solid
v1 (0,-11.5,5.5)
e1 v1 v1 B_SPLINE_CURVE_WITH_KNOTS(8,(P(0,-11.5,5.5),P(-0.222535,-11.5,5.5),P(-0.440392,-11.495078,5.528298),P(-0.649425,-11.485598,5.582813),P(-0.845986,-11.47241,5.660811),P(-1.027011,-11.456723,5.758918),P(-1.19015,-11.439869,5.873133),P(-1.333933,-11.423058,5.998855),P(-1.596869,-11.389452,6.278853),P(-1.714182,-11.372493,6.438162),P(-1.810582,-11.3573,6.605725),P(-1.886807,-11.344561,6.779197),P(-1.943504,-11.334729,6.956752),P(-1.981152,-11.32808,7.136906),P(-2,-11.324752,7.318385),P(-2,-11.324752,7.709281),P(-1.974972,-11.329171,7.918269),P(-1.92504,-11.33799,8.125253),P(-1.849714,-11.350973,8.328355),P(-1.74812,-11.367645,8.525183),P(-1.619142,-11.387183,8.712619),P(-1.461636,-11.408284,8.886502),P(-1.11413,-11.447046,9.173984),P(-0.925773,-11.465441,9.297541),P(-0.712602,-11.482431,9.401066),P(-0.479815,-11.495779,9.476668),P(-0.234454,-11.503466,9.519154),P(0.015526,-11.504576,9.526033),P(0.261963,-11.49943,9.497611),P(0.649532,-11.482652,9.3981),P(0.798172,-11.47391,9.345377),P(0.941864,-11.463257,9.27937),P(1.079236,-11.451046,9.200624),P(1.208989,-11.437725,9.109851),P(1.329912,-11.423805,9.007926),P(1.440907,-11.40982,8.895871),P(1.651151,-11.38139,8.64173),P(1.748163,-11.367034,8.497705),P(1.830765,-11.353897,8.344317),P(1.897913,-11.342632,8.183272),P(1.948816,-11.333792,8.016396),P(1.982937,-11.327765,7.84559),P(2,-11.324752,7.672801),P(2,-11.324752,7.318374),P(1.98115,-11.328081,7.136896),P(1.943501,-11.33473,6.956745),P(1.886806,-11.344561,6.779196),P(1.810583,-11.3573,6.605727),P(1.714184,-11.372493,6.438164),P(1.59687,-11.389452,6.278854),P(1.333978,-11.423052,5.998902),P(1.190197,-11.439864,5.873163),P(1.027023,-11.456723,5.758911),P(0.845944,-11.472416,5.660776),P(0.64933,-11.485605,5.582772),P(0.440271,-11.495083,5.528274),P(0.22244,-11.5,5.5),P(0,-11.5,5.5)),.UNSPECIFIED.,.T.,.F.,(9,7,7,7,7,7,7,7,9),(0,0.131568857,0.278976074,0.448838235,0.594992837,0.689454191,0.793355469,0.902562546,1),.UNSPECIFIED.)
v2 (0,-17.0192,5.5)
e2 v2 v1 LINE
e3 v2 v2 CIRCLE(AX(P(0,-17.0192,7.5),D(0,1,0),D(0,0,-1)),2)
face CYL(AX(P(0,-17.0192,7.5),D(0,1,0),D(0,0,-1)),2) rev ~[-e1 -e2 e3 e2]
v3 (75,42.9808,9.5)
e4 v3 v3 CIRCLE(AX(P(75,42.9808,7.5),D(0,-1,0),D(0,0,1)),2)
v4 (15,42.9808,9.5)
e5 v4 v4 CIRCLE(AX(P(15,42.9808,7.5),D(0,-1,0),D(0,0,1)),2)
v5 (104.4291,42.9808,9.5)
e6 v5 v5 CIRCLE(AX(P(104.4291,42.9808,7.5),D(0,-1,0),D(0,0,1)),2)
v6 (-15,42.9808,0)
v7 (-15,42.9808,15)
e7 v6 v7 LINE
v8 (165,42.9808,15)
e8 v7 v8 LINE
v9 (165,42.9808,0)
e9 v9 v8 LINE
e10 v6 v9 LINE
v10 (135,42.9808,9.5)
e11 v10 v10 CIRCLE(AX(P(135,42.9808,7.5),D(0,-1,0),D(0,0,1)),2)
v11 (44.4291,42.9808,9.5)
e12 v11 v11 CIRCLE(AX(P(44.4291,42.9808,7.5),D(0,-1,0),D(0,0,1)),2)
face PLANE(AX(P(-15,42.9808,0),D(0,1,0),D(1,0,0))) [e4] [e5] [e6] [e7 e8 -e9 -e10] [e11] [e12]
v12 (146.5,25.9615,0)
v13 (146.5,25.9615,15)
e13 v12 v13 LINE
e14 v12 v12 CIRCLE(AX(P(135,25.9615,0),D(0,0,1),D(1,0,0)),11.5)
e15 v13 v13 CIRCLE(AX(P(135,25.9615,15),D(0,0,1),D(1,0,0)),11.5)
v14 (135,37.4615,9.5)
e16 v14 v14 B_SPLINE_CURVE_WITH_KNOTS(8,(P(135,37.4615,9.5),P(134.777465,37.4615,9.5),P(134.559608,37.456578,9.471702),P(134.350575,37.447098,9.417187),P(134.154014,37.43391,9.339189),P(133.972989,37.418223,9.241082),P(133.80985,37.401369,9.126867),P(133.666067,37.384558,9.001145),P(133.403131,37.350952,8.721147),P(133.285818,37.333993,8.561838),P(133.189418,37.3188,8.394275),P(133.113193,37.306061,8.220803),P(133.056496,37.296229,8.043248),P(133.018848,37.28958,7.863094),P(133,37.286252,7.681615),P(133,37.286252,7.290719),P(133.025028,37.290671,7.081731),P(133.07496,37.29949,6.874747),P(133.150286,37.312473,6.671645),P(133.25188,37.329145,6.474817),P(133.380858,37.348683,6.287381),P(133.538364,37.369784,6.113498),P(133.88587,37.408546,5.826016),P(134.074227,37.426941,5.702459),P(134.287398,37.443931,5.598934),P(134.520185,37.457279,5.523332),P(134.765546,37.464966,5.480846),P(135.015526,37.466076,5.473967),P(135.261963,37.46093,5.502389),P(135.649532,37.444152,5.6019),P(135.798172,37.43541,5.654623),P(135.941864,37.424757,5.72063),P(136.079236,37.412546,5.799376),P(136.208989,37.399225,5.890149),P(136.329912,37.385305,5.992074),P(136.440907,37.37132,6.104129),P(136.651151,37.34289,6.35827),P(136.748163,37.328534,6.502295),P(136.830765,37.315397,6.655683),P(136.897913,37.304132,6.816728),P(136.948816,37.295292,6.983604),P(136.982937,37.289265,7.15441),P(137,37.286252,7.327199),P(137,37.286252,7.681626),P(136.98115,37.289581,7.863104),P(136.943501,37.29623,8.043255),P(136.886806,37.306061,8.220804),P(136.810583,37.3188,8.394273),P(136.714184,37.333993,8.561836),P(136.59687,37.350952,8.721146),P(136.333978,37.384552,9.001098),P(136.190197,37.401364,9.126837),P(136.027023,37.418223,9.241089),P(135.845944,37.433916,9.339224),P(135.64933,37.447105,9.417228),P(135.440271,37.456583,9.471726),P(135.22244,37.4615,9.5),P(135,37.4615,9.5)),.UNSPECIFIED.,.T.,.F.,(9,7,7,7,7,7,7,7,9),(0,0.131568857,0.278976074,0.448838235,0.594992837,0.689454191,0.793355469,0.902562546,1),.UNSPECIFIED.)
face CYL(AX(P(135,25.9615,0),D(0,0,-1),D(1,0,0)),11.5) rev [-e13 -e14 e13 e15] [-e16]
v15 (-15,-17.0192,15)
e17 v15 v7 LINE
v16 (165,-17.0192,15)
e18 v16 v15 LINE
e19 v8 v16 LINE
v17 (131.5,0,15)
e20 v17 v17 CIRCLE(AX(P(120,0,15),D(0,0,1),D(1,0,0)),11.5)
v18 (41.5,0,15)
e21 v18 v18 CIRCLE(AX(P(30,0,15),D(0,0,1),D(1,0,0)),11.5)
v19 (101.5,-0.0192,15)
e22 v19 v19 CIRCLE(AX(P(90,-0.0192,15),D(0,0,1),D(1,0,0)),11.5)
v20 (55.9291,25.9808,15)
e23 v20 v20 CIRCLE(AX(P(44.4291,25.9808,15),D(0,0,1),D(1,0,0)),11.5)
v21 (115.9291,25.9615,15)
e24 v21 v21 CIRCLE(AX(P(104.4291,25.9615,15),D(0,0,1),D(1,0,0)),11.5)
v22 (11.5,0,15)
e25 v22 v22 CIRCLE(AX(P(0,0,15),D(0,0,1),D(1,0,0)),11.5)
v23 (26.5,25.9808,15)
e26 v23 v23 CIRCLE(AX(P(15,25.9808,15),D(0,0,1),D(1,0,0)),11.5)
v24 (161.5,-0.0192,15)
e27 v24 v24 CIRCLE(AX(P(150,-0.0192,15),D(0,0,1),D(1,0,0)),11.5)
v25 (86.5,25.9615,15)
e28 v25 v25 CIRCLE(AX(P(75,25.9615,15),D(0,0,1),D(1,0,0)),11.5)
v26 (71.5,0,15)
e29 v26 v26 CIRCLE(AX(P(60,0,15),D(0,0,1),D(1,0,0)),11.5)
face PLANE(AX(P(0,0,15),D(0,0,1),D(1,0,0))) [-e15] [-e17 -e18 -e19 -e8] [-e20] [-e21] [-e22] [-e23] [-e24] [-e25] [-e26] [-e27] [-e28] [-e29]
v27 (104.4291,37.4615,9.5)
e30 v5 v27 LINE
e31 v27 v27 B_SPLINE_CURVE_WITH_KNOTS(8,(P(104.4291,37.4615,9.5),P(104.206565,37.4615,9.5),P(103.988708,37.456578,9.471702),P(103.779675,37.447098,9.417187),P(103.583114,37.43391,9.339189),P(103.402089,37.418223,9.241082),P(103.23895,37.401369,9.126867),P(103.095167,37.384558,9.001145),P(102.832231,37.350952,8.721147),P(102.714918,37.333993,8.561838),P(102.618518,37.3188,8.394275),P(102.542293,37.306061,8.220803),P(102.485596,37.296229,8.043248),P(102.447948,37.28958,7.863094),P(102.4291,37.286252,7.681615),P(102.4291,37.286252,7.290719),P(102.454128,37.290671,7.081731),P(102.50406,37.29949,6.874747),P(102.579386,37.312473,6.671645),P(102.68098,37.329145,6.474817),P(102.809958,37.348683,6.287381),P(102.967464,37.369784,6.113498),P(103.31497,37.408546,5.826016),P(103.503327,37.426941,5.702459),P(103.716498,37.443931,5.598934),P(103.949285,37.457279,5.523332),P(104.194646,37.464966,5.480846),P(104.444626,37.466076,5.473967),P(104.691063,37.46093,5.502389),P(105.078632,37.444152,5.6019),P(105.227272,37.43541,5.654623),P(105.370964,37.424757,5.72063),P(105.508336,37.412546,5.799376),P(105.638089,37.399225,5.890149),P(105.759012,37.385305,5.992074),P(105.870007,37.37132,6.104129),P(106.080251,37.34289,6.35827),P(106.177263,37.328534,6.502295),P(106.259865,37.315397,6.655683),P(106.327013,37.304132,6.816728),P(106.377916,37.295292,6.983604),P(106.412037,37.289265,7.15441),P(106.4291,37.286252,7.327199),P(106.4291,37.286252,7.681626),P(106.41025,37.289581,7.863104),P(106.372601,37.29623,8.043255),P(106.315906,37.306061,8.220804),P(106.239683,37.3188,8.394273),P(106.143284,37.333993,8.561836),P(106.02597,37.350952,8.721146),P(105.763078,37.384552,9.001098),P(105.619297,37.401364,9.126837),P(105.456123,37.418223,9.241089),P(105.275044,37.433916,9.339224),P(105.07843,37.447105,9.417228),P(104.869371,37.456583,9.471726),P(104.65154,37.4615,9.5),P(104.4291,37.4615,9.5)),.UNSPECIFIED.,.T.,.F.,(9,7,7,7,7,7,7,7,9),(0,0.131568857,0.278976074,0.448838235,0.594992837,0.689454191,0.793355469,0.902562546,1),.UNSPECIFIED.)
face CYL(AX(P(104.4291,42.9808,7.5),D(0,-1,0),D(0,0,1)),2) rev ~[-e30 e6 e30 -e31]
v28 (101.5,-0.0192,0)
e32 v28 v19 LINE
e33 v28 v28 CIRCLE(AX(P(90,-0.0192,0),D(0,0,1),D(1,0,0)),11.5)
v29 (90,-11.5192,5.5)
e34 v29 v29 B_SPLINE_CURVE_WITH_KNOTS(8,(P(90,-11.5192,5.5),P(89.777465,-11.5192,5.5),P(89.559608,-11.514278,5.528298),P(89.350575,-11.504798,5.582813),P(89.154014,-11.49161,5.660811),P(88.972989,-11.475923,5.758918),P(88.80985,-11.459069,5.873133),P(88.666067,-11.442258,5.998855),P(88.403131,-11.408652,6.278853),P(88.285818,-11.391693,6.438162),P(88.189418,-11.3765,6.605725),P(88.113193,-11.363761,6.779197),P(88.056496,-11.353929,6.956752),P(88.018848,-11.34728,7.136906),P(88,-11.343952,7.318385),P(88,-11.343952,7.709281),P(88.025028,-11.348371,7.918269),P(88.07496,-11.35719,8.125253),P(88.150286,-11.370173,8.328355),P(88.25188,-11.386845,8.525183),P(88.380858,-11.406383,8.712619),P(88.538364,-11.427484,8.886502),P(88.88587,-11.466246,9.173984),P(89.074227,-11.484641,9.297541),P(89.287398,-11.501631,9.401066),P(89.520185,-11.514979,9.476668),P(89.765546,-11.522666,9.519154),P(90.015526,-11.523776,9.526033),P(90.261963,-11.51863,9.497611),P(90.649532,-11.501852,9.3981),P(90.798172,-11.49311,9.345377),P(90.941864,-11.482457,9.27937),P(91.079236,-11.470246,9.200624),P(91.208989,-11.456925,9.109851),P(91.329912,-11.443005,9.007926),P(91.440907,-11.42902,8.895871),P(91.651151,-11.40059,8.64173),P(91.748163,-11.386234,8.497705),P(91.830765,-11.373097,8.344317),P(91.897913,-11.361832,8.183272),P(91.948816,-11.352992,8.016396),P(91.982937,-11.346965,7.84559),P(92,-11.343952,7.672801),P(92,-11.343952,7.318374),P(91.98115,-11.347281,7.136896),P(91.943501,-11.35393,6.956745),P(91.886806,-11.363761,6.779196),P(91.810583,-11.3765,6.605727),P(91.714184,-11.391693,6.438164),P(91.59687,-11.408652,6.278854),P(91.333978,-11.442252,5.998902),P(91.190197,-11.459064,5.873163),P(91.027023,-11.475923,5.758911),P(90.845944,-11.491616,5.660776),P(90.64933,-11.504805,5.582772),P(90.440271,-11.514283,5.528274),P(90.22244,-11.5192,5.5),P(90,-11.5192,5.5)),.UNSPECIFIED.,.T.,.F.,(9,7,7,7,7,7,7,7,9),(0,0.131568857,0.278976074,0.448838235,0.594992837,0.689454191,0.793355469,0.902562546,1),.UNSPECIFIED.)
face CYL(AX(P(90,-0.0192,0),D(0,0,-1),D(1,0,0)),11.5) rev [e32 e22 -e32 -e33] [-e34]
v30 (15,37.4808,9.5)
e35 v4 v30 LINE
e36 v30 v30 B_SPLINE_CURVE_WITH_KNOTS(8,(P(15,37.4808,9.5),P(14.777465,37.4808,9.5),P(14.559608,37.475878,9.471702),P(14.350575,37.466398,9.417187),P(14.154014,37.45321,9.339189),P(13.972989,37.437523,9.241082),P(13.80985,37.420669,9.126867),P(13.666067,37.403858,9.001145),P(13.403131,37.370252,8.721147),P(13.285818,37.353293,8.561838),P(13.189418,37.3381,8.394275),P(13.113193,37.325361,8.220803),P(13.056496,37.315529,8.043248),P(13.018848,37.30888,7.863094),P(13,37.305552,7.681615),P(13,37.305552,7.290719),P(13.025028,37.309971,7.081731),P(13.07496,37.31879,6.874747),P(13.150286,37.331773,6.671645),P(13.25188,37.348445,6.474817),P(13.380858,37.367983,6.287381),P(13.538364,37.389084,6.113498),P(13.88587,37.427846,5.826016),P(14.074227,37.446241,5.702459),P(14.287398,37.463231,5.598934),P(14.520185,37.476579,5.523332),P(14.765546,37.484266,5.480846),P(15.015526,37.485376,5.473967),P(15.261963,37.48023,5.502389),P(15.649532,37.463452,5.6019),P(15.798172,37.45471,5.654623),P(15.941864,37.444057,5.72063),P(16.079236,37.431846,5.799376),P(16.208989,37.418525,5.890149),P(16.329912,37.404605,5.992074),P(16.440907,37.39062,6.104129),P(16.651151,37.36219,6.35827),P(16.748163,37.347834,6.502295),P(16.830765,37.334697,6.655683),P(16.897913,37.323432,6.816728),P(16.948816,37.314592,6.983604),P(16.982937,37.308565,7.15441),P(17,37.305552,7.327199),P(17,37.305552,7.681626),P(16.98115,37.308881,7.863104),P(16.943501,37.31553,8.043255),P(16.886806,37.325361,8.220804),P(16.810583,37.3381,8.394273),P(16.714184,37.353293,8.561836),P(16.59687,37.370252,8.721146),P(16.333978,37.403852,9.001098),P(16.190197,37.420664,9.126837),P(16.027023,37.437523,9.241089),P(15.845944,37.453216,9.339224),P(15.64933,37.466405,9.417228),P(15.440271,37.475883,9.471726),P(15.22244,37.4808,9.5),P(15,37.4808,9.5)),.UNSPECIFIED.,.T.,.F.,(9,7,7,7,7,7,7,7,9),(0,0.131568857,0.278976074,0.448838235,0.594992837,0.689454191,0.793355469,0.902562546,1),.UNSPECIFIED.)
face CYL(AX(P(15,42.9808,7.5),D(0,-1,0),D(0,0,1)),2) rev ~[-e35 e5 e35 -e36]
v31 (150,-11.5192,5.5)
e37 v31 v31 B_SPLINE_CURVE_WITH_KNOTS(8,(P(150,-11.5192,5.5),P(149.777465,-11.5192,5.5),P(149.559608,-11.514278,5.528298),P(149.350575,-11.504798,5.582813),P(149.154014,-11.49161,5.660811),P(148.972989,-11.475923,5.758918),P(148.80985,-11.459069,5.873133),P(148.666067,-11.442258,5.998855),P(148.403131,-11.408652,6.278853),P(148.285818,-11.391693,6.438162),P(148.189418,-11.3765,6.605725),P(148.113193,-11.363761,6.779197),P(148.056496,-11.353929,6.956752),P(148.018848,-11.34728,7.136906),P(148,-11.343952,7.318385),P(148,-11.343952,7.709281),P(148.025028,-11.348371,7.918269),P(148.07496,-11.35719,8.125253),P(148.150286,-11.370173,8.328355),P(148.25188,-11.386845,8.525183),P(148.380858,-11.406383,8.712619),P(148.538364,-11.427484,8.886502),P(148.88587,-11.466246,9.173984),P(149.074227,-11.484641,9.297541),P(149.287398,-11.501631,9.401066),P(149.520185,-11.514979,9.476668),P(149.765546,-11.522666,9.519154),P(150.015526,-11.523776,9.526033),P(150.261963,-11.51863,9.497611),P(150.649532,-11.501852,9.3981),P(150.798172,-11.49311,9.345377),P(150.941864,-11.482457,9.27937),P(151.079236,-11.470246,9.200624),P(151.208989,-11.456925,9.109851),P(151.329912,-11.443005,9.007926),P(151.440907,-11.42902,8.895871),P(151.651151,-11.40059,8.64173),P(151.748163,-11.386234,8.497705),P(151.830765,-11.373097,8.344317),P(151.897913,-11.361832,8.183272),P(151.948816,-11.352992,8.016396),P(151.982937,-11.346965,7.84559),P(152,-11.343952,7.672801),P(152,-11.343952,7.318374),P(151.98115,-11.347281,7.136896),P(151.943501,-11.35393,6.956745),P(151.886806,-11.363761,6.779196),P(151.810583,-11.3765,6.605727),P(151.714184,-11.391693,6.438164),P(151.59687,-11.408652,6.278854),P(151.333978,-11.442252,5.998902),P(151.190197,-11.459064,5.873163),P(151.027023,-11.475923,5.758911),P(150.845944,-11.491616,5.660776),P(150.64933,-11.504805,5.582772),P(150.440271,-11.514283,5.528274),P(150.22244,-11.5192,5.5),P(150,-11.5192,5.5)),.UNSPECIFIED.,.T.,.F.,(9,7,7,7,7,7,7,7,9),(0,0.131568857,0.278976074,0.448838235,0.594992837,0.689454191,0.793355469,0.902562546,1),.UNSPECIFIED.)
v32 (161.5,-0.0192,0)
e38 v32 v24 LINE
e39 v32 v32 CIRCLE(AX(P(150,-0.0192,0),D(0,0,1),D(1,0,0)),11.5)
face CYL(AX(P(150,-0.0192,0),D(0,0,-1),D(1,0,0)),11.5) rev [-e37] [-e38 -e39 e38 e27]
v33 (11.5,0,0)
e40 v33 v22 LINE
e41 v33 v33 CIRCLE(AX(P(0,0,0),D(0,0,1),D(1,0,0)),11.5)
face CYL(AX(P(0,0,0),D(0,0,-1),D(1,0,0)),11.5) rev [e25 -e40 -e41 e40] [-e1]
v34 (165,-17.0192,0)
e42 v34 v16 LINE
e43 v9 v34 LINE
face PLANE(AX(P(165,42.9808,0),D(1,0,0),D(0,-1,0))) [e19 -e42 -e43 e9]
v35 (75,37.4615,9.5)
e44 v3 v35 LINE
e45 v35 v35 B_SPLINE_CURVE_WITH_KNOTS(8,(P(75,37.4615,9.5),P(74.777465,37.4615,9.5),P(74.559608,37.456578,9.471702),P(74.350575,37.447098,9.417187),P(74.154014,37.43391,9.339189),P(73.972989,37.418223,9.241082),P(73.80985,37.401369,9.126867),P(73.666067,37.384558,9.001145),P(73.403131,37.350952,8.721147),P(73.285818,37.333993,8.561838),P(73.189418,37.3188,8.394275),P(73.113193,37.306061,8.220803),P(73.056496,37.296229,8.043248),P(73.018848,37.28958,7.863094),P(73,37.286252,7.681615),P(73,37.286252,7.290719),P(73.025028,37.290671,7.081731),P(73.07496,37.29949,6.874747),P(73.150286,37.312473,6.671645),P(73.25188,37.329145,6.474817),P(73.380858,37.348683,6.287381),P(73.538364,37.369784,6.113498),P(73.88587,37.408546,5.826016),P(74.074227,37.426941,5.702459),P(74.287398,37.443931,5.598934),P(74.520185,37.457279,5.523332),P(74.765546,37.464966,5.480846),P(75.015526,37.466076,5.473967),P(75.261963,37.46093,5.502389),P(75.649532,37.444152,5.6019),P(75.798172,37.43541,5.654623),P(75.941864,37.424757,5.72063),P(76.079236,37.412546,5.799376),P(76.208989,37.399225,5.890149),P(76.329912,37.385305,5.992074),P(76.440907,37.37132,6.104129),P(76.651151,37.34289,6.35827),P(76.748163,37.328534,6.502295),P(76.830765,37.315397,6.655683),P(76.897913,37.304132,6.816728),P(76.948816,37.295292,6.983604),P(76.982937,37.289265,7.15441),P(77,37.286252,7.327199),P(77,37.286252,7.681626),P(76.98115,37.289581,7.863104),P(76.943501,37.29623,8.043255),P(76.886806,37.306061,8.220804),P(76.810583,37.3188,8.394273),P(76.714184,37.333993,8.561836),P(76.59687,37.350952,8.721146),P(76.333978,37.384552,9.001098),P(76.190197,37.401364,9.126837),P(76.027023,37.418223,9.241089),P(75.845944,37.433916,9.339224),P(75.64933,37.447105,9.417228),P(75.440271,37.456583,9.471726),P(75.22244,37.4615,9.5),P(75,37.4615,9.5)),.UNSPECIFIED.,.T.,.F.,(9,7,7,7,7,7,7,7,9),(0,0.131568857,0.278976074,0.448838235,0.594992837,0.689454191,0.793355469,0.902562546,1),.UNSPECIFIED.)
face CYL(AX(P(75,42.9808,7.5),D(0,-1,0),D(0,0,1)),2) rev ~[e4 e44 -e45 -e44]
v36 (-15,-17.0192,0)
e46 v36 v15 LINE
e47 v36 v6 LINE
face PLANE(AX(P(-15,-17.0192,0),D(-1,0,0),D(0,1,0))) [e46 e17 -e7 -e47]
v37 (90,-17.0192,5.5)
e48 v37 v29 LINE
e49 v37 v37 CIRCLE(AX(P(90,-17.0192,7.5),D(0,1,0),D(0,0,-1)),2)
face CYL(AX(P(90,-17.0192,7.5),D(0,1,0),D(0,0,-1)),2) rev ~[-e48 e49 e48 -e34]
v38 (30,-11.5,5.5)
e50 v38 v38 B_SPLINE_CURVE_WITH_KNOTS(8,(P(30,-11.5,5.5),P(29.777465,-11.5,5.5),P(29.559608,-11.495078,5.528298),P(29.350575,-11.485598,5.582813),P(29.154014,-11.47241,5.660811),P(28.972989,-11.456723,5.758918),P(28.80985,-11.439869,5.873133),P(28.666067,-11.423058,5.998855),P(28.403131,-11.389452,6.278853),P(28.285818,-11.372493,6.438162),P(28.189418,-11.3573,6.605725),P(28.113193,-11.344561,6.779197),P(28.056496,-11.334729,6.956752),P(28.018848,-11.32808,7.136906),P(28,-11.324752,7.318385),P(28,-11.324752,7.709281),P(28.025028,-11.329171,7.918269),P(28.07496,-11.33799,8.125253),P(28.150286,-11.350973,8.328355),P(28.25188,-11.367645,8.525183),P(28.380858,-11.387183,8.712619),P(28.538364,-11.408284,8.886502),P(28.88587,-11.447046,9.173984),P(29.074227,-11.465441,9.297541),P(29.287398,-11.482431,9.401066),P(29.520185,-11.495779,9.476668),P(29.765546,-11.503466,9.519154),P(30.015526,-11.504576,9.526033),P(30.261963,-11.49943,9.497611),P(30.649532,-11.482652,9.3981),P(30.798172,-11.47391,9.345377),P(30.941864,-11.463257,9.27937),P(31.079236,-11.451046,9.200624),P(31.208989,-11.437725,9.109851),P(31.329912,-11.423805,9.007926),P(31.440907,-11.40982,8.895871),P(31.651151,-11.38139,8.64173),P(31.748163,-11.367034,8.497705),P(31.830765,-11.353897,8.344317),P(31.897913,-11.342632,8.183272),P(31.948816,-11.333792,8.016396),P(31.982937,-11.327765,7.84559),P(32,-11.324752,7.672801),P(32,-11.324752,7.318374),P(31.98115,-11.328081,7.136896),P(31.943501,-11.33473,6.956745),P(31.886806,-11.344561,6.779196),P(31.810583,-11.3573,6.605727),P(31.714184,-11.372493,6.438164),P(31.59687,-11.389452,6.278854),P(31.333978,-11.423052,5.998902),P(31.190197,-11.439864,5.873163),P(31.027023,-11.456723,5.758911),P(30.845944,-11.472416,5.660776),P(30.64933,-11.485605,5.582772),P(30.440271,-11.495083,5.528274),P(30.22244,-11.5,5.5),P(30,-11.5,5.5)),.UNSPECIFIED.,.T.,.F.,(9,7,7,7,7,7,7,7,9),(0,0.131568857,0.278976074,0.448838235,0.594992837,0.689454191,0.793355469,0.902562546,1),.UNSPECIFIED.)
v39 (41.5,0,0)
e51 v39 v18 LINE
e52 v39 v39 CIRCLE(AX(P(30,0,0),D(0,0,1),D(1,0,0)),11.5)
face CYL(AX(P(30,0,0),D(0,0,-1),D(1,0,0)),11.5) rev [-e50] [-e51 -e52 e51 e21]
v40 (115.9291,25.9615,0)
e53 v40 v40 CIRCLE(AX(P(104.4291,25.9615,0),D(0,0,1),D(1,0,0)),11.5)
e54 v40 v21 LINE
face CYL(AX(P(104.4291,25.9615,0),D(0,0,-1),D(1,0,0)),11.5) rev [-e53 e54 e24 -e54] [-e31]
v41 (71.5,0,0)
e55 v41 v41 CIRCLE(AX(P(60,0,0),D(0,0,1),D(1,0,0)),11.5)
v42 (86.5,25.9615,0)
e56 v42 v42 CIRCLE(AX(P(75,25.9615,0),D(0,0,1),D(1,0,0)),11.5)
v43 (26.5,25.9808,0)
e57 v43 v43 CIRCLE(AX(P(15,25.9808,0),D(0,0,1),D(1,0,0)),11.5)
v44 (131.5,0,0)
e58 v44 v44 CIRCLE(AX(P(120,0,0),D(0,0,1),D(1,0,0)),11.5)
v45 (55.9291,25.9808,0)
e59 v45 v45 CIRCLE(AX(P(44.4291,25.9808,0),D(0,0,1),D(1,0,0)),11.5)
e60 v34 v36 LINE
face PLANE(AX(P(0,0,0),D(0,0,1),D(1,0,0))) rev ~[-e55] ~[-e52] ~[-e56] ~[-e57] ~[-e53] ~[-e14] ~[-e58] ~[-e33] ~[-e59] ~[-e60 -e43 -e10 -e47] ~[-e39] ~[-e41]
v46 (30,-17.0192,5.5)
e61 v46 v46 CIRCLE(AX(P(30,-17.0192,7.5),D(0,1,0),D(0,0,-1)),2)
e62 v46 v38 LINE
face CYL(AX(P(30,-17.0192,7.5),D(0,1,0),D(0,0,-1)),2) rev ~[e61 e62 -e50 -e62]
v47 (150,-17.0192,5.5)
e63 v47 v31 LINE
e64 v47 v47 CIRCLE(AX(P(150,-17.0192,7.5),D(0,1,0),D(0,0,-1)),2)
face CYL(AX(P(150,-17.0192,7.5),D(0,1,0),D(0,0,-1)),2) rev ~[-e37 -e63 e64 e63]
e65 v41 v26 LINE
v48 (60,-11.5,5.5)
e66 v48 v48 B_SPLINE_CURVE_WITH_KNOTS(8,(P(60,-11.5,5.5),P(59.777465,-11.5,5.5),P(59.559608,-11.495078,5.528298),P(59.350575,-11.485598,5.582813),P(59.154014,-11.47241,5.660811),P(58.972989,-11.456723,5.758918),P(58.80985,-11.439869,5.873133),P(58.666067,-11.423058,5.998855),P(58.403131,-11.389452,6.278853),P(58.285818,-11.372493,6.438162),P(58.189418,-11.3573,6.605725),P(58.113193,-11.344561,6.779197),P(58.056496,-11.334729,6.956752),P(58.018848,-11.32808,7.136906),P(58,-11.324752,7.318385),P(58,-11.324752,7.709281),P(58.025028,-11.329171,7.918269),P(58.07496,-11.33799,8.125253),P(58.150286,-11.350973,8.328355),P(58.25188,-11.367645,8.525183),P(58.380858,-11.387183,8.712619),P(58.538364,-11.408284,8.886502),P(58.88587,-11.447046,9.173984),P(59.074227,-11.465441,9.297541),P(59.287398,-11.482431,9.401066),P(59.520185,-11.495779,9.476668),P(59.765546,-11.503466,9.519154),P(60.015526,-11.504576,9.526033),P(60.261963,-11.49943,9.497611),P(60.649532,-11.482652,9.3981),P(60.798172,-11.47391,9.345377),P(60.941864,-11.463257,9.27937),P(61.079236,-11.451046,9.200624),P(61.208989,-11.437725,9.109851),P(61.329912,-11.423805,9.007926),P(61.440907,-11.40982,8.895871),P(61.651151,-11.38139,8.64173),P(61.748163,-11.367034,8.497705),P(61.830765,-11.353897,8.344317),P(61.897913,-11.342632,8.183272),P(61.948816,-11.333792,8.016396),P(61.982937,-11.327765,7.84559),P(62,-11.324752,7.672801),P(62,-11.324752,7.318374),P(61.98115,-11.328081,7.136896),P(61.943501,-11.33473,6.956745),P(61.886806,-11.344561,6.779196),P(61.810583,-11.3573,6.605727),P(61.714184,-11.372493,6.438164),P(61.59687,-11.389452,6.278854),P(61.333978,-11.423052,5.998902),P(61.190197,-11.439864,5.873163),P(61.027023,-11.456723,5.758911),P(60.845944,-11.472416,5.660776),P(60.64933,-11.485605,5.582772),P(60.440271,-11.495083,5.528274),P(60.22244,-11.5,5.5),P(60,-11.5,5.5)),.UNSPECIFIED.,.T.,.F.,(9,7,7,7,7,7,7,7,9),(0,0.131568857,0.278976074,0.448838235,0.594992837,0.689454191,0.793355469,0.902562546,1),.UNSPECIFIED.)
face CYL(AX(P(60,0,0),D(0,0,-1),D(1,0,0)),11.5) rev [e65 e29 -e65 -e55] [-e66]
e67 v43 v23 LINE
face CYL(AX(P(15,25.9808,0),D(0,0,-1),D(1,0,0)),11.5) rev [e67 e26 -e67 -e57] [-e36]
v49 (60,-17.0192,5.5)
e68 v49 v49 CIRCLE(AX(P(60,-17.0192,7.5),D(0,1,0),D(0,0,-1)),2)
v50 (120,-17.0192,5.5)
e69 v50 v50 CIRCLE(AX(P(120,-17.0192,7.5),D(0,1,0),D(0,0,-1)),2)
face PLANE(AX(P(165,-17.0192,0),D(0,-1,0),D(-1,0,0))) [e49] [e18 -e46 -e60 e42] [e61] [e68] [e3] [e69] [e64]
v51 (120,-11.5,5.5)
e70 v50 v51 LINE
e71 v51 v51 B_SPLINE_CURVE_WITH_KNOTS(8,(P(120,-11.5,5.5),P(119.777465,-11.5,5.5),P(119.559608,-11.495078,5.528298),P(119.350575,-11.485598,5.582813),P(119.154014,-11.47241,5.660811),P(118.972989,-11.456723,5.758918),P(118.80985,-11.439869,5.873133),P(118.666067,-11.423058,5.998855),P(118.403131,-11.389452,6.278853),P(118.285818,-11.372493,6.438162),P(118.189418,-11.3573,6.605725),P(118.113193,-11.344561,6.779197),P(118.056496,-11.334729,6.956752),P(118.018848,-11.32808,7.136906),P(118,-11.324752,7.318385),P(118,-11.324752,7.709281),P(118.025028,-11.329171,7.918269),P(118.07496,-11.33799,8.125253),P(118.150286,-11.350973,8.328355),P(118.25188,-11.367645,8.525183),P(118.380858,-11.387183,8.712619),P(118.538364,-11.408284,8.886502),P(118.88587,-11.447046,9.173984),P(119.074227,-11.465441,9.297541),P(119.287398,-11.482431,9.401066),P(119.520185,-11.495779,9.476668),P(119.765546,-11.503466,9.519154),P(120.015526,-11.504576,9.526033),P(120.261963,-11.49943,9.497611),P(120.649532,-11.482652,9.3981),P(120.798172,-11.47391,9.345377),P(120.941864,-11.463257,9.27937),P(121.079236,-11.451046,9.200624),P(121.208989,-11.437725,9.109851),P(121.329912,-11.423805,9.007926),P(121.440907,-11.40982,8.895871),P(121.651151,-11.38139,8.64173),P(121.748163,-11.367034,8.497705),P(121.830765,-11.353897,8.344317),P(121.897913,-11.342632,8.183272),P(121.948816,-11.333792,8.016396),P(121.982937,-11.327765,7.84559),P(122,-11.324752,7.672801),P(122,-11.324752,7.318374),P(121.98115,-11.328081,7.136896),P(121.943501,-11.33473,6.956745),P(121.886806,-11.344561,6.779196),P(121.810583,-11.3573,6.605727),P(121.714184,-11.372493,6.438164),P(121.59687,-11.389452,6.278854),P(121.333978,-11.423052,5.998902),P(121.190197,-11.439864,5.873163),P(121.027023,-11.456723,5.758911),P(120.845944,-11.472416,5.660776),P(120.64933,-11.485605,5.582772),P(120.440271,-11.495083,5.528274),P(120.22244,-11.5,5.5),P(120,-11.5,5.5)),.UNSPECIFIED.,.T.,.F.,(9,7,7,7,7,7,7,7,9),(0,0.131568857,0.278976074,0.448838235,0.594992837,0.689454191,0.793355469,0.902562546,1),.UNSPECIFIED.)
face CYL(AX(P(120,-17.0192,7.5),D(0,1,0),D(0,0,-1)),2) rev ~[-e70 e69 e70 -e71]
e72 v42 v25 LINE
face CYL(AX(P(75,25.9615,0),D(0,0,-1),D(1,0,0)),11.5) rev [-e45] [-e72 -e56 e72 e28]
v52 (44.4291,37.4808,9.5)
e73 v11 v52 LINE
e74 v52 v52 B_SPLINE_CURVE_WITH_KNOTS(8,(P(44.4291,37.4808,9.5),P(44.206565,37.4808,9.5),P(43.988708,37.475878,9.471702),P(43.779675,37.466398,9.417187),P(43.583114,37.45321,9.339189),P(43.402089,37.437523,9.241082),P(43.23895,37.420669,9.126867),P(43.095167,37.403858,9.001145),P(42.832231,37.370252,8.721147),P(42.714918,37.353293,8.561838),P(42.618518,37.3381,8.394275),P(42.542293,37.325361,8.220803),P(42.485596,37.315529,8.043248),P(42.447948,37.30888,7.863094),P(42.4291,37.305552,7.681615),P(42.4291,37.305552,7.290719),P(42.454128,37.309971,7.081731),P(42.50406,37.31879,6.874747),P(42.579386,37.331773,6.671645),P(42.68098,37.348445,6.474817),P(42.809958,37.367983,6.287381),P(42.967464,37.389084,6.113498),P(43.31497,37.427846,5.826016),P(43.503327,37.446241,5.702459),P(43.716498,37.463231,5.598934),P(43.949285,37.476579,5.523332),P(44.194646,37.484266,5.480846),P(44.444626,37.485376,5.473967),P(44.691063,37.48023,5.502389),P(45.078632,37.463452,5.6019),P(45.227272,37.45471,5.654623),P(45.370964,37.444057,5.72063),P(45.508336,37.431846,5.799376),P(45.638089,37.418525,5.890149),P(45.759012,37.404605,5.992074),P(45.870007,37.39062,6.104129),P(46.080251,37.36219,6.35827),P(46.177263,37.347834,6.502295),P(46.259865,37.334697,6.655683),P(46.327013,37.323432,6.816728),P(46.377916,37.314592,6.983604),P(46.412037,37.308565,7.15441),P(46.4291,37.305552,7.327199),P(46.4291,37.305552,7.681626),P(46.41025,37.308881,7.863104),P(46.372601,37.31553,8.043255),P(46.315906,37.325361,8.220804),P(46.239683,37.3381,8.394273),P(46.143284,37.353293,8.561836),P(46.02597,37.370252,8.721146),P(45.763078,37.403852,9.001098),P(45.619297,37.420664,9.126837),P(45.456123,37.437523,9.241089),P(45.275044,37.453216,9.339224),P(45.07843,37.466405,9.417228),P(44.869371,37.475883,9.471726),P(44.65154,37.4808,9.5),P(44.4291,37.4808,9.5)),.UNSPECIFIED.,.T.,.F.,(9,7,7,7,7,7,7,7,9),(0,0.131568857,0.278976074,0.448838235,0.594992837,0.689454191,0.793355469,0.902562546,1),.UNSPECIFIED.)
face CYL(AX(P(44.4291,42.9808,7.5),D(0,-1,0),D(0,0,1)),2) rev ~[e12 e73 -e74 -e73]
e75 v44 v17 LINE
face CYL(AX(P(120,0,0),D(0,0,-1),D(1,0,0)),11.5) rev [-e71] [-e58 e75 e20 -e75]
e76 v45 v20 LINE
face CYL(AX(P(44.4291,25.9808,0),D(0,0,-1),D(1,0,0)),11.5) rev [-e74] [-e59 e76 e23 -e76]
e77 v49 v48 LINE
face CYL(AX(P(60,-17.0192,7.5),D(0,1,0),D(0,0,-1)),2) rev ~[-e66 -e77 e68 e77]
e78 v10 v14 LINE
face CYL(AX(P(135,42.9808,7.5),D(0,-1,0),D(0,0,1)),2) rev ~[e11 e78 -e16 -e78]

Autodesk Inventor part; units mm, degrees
ref_plane "YZ Plane" through (0, 0, 0) normal (1, 0, 0) x (0, 1, 0)
ref_plane "XZ Plane" through (0, 0, 0) normal (0, 1, 0) x (-1, 0, 0)
ref_plane "XY Plane" through (0, 0, 0) normal (0, 0, 1) x (1, 0, 0)
sketch "Skizze1" plane through (0, 0, 0) normal (0, 0, 1) x (1, 0, 0)
  circle A0 centre (0, 0) radius 11.5
  circle A1 centre (15, 25.9808) radius 11.5
  circle A2 centre (30, 0) radius 11.5
  circle A3 centre (44.4291, 25.9808) radius 11.5
  circle A4 centre (60, 0) radius 11.5
  circle A5 centre (75, 25.9615) radius 11.5
  circle A6 centre (90, -0.0192) radius 11.5
  circle A7 centre (104.4291, 25.9615) radius 11.5
  circle A8 centre (120, 0) radius 11.5
  circle A9 centre (135, 25.9615) radius 11.5
  circle A10 centre (150, -0.0192) radius 11.5
  line L0 (-15, 42.9808) -> (165, 42.9808)
  line L1 (165, 42.9808) -> (165, -17.0192)
  line L2 (165, -17.0192) -> (-15, -17.0192)
  line L3 (-15, -17.0192) -> (-15, 42.9808)
  dimension "d0" = 23
  dimension "d2" = 23
  dimension "d3" = 30
  dimension "d4" = 23
  dimension "d7" = 30
  dimension "d8" = 30
  dimension "d9" = 23
  dimension "d10" = 29.4291
  dimension "d11" = 23
  dimension "d12" = 23
  dimension "d13" = 23
  dimension "d14" = 30
  dimension "d15" = 23
  dimension "d16" = 29.4291
  dimension "d24" = 23
  dimension "d25" = 23
  dimension "d26" = 23
  dimension "d27" = 30
  dimension "d28" = 15
  dimension "d31" = 15
  dimension "d36" = 180
  dimension "d98" = 60
  dimension "d99" = 5.5
  dimension "d100" = 52.4567
  dimension "d101" = 5.5192
  dimension "d102" = 5.5
  dimension "d103" = 5.5
extrude "Extrusion1" add sketch "Skizze1" along normal blind 15
hole "Bohrung1" at (120, -17.0192, 7.5) at (30, -17.0192, 7.5) at (0, -17.0192, 7.5) at (60, -17.0192, 7.5) at (150, -17.0192, 7.5) at (90, -17.0192, 7.5) direction (0, 1, 0) diameter 4 depth 8
thread "Gewinde2" size "M4x0.7" class "6H" standard "ANSI Metric M Profile" full length
thread "Gewinde3" size "M4x0.7" class "6H" standard "ANSI Metric M Profile" full length
sketch "Skizze4" plane through (-15, 42.9808, 0) normal (0, 1, 0) x (1, 0, 0)
  line L0 (180, 0) -> (180, -15) projected
  line L1 (150, 13) -> (150, -28.8024) construction
  line L2 (30, 13) -> (30, -28.8024) construction
  line L3 (119.4291, 13) -> (119.4291, -28.8024) construction
  line L4 (90, 13) -> (90, -28.8024) construction
  line L5 (59.4291, 13) -> (59.4291, -28.8024) construction
  line L6 (180, -15) -> (0, -15) projected
  line L7 (0, -15) -> (180, 0) construction
  line L8 (180, -15) -> (0, 0) construction
  line L9 (4.4998, -7.5) -> (175.5002, -7.5) construction
  point P0 (15, 0)
  point P1 (119.4291, -7.5)
  point P2 (150, -7.5)
  point P3 (90, -7.5)
  point P4 (59.4291, -7.5)
  point P5 (30, -7.5)
  point P6 (90, -7.5)
  point P7 (90, -7.5)
  dimension "d58" = 30
  dimension "d60" = 60.5709
  dimension "d62" = 90
  dimension "d64" = 120.5709
  dimension "d66" = 150
  dimension "d85" = 0
  dimension "d86" = 0
  dimension "d87" = 0
  dimension "d88" = 0
  dimension "d89" = 0
hole "Bohrung2" at (104.4291, 42.9808, 7.5) at (135, 42.9808, 7.5) at (75, 42.9808, 7.5) at (44.4291, 42.9808, 7.5) at (15, 42.9808, 7.5) direction (0, -1, 0) diameter 4 depth 8 tip angle 118
thread "Gewinde4" size "M4x0.7" class "6H" standard "ANSI Metric M Profile" full length
thread "Gewinde5" size "M4x0.7" class "6H" standard "ANSI Metric M Profile" full length
thread "Gewinde6" size "M4x0.7" class "6H" standard "ANSI Metric M Profile" full length
thread "Gewinde7" size "M4x0.7" class "6H" standard "ANSI Metric M Profile" full length
thread "Gewinde8" size "M4x0.7" class "6H" standard "ANSI Metric M Profile" full length
properties part number "Ventilhalter" material "Aluminium 6061"
